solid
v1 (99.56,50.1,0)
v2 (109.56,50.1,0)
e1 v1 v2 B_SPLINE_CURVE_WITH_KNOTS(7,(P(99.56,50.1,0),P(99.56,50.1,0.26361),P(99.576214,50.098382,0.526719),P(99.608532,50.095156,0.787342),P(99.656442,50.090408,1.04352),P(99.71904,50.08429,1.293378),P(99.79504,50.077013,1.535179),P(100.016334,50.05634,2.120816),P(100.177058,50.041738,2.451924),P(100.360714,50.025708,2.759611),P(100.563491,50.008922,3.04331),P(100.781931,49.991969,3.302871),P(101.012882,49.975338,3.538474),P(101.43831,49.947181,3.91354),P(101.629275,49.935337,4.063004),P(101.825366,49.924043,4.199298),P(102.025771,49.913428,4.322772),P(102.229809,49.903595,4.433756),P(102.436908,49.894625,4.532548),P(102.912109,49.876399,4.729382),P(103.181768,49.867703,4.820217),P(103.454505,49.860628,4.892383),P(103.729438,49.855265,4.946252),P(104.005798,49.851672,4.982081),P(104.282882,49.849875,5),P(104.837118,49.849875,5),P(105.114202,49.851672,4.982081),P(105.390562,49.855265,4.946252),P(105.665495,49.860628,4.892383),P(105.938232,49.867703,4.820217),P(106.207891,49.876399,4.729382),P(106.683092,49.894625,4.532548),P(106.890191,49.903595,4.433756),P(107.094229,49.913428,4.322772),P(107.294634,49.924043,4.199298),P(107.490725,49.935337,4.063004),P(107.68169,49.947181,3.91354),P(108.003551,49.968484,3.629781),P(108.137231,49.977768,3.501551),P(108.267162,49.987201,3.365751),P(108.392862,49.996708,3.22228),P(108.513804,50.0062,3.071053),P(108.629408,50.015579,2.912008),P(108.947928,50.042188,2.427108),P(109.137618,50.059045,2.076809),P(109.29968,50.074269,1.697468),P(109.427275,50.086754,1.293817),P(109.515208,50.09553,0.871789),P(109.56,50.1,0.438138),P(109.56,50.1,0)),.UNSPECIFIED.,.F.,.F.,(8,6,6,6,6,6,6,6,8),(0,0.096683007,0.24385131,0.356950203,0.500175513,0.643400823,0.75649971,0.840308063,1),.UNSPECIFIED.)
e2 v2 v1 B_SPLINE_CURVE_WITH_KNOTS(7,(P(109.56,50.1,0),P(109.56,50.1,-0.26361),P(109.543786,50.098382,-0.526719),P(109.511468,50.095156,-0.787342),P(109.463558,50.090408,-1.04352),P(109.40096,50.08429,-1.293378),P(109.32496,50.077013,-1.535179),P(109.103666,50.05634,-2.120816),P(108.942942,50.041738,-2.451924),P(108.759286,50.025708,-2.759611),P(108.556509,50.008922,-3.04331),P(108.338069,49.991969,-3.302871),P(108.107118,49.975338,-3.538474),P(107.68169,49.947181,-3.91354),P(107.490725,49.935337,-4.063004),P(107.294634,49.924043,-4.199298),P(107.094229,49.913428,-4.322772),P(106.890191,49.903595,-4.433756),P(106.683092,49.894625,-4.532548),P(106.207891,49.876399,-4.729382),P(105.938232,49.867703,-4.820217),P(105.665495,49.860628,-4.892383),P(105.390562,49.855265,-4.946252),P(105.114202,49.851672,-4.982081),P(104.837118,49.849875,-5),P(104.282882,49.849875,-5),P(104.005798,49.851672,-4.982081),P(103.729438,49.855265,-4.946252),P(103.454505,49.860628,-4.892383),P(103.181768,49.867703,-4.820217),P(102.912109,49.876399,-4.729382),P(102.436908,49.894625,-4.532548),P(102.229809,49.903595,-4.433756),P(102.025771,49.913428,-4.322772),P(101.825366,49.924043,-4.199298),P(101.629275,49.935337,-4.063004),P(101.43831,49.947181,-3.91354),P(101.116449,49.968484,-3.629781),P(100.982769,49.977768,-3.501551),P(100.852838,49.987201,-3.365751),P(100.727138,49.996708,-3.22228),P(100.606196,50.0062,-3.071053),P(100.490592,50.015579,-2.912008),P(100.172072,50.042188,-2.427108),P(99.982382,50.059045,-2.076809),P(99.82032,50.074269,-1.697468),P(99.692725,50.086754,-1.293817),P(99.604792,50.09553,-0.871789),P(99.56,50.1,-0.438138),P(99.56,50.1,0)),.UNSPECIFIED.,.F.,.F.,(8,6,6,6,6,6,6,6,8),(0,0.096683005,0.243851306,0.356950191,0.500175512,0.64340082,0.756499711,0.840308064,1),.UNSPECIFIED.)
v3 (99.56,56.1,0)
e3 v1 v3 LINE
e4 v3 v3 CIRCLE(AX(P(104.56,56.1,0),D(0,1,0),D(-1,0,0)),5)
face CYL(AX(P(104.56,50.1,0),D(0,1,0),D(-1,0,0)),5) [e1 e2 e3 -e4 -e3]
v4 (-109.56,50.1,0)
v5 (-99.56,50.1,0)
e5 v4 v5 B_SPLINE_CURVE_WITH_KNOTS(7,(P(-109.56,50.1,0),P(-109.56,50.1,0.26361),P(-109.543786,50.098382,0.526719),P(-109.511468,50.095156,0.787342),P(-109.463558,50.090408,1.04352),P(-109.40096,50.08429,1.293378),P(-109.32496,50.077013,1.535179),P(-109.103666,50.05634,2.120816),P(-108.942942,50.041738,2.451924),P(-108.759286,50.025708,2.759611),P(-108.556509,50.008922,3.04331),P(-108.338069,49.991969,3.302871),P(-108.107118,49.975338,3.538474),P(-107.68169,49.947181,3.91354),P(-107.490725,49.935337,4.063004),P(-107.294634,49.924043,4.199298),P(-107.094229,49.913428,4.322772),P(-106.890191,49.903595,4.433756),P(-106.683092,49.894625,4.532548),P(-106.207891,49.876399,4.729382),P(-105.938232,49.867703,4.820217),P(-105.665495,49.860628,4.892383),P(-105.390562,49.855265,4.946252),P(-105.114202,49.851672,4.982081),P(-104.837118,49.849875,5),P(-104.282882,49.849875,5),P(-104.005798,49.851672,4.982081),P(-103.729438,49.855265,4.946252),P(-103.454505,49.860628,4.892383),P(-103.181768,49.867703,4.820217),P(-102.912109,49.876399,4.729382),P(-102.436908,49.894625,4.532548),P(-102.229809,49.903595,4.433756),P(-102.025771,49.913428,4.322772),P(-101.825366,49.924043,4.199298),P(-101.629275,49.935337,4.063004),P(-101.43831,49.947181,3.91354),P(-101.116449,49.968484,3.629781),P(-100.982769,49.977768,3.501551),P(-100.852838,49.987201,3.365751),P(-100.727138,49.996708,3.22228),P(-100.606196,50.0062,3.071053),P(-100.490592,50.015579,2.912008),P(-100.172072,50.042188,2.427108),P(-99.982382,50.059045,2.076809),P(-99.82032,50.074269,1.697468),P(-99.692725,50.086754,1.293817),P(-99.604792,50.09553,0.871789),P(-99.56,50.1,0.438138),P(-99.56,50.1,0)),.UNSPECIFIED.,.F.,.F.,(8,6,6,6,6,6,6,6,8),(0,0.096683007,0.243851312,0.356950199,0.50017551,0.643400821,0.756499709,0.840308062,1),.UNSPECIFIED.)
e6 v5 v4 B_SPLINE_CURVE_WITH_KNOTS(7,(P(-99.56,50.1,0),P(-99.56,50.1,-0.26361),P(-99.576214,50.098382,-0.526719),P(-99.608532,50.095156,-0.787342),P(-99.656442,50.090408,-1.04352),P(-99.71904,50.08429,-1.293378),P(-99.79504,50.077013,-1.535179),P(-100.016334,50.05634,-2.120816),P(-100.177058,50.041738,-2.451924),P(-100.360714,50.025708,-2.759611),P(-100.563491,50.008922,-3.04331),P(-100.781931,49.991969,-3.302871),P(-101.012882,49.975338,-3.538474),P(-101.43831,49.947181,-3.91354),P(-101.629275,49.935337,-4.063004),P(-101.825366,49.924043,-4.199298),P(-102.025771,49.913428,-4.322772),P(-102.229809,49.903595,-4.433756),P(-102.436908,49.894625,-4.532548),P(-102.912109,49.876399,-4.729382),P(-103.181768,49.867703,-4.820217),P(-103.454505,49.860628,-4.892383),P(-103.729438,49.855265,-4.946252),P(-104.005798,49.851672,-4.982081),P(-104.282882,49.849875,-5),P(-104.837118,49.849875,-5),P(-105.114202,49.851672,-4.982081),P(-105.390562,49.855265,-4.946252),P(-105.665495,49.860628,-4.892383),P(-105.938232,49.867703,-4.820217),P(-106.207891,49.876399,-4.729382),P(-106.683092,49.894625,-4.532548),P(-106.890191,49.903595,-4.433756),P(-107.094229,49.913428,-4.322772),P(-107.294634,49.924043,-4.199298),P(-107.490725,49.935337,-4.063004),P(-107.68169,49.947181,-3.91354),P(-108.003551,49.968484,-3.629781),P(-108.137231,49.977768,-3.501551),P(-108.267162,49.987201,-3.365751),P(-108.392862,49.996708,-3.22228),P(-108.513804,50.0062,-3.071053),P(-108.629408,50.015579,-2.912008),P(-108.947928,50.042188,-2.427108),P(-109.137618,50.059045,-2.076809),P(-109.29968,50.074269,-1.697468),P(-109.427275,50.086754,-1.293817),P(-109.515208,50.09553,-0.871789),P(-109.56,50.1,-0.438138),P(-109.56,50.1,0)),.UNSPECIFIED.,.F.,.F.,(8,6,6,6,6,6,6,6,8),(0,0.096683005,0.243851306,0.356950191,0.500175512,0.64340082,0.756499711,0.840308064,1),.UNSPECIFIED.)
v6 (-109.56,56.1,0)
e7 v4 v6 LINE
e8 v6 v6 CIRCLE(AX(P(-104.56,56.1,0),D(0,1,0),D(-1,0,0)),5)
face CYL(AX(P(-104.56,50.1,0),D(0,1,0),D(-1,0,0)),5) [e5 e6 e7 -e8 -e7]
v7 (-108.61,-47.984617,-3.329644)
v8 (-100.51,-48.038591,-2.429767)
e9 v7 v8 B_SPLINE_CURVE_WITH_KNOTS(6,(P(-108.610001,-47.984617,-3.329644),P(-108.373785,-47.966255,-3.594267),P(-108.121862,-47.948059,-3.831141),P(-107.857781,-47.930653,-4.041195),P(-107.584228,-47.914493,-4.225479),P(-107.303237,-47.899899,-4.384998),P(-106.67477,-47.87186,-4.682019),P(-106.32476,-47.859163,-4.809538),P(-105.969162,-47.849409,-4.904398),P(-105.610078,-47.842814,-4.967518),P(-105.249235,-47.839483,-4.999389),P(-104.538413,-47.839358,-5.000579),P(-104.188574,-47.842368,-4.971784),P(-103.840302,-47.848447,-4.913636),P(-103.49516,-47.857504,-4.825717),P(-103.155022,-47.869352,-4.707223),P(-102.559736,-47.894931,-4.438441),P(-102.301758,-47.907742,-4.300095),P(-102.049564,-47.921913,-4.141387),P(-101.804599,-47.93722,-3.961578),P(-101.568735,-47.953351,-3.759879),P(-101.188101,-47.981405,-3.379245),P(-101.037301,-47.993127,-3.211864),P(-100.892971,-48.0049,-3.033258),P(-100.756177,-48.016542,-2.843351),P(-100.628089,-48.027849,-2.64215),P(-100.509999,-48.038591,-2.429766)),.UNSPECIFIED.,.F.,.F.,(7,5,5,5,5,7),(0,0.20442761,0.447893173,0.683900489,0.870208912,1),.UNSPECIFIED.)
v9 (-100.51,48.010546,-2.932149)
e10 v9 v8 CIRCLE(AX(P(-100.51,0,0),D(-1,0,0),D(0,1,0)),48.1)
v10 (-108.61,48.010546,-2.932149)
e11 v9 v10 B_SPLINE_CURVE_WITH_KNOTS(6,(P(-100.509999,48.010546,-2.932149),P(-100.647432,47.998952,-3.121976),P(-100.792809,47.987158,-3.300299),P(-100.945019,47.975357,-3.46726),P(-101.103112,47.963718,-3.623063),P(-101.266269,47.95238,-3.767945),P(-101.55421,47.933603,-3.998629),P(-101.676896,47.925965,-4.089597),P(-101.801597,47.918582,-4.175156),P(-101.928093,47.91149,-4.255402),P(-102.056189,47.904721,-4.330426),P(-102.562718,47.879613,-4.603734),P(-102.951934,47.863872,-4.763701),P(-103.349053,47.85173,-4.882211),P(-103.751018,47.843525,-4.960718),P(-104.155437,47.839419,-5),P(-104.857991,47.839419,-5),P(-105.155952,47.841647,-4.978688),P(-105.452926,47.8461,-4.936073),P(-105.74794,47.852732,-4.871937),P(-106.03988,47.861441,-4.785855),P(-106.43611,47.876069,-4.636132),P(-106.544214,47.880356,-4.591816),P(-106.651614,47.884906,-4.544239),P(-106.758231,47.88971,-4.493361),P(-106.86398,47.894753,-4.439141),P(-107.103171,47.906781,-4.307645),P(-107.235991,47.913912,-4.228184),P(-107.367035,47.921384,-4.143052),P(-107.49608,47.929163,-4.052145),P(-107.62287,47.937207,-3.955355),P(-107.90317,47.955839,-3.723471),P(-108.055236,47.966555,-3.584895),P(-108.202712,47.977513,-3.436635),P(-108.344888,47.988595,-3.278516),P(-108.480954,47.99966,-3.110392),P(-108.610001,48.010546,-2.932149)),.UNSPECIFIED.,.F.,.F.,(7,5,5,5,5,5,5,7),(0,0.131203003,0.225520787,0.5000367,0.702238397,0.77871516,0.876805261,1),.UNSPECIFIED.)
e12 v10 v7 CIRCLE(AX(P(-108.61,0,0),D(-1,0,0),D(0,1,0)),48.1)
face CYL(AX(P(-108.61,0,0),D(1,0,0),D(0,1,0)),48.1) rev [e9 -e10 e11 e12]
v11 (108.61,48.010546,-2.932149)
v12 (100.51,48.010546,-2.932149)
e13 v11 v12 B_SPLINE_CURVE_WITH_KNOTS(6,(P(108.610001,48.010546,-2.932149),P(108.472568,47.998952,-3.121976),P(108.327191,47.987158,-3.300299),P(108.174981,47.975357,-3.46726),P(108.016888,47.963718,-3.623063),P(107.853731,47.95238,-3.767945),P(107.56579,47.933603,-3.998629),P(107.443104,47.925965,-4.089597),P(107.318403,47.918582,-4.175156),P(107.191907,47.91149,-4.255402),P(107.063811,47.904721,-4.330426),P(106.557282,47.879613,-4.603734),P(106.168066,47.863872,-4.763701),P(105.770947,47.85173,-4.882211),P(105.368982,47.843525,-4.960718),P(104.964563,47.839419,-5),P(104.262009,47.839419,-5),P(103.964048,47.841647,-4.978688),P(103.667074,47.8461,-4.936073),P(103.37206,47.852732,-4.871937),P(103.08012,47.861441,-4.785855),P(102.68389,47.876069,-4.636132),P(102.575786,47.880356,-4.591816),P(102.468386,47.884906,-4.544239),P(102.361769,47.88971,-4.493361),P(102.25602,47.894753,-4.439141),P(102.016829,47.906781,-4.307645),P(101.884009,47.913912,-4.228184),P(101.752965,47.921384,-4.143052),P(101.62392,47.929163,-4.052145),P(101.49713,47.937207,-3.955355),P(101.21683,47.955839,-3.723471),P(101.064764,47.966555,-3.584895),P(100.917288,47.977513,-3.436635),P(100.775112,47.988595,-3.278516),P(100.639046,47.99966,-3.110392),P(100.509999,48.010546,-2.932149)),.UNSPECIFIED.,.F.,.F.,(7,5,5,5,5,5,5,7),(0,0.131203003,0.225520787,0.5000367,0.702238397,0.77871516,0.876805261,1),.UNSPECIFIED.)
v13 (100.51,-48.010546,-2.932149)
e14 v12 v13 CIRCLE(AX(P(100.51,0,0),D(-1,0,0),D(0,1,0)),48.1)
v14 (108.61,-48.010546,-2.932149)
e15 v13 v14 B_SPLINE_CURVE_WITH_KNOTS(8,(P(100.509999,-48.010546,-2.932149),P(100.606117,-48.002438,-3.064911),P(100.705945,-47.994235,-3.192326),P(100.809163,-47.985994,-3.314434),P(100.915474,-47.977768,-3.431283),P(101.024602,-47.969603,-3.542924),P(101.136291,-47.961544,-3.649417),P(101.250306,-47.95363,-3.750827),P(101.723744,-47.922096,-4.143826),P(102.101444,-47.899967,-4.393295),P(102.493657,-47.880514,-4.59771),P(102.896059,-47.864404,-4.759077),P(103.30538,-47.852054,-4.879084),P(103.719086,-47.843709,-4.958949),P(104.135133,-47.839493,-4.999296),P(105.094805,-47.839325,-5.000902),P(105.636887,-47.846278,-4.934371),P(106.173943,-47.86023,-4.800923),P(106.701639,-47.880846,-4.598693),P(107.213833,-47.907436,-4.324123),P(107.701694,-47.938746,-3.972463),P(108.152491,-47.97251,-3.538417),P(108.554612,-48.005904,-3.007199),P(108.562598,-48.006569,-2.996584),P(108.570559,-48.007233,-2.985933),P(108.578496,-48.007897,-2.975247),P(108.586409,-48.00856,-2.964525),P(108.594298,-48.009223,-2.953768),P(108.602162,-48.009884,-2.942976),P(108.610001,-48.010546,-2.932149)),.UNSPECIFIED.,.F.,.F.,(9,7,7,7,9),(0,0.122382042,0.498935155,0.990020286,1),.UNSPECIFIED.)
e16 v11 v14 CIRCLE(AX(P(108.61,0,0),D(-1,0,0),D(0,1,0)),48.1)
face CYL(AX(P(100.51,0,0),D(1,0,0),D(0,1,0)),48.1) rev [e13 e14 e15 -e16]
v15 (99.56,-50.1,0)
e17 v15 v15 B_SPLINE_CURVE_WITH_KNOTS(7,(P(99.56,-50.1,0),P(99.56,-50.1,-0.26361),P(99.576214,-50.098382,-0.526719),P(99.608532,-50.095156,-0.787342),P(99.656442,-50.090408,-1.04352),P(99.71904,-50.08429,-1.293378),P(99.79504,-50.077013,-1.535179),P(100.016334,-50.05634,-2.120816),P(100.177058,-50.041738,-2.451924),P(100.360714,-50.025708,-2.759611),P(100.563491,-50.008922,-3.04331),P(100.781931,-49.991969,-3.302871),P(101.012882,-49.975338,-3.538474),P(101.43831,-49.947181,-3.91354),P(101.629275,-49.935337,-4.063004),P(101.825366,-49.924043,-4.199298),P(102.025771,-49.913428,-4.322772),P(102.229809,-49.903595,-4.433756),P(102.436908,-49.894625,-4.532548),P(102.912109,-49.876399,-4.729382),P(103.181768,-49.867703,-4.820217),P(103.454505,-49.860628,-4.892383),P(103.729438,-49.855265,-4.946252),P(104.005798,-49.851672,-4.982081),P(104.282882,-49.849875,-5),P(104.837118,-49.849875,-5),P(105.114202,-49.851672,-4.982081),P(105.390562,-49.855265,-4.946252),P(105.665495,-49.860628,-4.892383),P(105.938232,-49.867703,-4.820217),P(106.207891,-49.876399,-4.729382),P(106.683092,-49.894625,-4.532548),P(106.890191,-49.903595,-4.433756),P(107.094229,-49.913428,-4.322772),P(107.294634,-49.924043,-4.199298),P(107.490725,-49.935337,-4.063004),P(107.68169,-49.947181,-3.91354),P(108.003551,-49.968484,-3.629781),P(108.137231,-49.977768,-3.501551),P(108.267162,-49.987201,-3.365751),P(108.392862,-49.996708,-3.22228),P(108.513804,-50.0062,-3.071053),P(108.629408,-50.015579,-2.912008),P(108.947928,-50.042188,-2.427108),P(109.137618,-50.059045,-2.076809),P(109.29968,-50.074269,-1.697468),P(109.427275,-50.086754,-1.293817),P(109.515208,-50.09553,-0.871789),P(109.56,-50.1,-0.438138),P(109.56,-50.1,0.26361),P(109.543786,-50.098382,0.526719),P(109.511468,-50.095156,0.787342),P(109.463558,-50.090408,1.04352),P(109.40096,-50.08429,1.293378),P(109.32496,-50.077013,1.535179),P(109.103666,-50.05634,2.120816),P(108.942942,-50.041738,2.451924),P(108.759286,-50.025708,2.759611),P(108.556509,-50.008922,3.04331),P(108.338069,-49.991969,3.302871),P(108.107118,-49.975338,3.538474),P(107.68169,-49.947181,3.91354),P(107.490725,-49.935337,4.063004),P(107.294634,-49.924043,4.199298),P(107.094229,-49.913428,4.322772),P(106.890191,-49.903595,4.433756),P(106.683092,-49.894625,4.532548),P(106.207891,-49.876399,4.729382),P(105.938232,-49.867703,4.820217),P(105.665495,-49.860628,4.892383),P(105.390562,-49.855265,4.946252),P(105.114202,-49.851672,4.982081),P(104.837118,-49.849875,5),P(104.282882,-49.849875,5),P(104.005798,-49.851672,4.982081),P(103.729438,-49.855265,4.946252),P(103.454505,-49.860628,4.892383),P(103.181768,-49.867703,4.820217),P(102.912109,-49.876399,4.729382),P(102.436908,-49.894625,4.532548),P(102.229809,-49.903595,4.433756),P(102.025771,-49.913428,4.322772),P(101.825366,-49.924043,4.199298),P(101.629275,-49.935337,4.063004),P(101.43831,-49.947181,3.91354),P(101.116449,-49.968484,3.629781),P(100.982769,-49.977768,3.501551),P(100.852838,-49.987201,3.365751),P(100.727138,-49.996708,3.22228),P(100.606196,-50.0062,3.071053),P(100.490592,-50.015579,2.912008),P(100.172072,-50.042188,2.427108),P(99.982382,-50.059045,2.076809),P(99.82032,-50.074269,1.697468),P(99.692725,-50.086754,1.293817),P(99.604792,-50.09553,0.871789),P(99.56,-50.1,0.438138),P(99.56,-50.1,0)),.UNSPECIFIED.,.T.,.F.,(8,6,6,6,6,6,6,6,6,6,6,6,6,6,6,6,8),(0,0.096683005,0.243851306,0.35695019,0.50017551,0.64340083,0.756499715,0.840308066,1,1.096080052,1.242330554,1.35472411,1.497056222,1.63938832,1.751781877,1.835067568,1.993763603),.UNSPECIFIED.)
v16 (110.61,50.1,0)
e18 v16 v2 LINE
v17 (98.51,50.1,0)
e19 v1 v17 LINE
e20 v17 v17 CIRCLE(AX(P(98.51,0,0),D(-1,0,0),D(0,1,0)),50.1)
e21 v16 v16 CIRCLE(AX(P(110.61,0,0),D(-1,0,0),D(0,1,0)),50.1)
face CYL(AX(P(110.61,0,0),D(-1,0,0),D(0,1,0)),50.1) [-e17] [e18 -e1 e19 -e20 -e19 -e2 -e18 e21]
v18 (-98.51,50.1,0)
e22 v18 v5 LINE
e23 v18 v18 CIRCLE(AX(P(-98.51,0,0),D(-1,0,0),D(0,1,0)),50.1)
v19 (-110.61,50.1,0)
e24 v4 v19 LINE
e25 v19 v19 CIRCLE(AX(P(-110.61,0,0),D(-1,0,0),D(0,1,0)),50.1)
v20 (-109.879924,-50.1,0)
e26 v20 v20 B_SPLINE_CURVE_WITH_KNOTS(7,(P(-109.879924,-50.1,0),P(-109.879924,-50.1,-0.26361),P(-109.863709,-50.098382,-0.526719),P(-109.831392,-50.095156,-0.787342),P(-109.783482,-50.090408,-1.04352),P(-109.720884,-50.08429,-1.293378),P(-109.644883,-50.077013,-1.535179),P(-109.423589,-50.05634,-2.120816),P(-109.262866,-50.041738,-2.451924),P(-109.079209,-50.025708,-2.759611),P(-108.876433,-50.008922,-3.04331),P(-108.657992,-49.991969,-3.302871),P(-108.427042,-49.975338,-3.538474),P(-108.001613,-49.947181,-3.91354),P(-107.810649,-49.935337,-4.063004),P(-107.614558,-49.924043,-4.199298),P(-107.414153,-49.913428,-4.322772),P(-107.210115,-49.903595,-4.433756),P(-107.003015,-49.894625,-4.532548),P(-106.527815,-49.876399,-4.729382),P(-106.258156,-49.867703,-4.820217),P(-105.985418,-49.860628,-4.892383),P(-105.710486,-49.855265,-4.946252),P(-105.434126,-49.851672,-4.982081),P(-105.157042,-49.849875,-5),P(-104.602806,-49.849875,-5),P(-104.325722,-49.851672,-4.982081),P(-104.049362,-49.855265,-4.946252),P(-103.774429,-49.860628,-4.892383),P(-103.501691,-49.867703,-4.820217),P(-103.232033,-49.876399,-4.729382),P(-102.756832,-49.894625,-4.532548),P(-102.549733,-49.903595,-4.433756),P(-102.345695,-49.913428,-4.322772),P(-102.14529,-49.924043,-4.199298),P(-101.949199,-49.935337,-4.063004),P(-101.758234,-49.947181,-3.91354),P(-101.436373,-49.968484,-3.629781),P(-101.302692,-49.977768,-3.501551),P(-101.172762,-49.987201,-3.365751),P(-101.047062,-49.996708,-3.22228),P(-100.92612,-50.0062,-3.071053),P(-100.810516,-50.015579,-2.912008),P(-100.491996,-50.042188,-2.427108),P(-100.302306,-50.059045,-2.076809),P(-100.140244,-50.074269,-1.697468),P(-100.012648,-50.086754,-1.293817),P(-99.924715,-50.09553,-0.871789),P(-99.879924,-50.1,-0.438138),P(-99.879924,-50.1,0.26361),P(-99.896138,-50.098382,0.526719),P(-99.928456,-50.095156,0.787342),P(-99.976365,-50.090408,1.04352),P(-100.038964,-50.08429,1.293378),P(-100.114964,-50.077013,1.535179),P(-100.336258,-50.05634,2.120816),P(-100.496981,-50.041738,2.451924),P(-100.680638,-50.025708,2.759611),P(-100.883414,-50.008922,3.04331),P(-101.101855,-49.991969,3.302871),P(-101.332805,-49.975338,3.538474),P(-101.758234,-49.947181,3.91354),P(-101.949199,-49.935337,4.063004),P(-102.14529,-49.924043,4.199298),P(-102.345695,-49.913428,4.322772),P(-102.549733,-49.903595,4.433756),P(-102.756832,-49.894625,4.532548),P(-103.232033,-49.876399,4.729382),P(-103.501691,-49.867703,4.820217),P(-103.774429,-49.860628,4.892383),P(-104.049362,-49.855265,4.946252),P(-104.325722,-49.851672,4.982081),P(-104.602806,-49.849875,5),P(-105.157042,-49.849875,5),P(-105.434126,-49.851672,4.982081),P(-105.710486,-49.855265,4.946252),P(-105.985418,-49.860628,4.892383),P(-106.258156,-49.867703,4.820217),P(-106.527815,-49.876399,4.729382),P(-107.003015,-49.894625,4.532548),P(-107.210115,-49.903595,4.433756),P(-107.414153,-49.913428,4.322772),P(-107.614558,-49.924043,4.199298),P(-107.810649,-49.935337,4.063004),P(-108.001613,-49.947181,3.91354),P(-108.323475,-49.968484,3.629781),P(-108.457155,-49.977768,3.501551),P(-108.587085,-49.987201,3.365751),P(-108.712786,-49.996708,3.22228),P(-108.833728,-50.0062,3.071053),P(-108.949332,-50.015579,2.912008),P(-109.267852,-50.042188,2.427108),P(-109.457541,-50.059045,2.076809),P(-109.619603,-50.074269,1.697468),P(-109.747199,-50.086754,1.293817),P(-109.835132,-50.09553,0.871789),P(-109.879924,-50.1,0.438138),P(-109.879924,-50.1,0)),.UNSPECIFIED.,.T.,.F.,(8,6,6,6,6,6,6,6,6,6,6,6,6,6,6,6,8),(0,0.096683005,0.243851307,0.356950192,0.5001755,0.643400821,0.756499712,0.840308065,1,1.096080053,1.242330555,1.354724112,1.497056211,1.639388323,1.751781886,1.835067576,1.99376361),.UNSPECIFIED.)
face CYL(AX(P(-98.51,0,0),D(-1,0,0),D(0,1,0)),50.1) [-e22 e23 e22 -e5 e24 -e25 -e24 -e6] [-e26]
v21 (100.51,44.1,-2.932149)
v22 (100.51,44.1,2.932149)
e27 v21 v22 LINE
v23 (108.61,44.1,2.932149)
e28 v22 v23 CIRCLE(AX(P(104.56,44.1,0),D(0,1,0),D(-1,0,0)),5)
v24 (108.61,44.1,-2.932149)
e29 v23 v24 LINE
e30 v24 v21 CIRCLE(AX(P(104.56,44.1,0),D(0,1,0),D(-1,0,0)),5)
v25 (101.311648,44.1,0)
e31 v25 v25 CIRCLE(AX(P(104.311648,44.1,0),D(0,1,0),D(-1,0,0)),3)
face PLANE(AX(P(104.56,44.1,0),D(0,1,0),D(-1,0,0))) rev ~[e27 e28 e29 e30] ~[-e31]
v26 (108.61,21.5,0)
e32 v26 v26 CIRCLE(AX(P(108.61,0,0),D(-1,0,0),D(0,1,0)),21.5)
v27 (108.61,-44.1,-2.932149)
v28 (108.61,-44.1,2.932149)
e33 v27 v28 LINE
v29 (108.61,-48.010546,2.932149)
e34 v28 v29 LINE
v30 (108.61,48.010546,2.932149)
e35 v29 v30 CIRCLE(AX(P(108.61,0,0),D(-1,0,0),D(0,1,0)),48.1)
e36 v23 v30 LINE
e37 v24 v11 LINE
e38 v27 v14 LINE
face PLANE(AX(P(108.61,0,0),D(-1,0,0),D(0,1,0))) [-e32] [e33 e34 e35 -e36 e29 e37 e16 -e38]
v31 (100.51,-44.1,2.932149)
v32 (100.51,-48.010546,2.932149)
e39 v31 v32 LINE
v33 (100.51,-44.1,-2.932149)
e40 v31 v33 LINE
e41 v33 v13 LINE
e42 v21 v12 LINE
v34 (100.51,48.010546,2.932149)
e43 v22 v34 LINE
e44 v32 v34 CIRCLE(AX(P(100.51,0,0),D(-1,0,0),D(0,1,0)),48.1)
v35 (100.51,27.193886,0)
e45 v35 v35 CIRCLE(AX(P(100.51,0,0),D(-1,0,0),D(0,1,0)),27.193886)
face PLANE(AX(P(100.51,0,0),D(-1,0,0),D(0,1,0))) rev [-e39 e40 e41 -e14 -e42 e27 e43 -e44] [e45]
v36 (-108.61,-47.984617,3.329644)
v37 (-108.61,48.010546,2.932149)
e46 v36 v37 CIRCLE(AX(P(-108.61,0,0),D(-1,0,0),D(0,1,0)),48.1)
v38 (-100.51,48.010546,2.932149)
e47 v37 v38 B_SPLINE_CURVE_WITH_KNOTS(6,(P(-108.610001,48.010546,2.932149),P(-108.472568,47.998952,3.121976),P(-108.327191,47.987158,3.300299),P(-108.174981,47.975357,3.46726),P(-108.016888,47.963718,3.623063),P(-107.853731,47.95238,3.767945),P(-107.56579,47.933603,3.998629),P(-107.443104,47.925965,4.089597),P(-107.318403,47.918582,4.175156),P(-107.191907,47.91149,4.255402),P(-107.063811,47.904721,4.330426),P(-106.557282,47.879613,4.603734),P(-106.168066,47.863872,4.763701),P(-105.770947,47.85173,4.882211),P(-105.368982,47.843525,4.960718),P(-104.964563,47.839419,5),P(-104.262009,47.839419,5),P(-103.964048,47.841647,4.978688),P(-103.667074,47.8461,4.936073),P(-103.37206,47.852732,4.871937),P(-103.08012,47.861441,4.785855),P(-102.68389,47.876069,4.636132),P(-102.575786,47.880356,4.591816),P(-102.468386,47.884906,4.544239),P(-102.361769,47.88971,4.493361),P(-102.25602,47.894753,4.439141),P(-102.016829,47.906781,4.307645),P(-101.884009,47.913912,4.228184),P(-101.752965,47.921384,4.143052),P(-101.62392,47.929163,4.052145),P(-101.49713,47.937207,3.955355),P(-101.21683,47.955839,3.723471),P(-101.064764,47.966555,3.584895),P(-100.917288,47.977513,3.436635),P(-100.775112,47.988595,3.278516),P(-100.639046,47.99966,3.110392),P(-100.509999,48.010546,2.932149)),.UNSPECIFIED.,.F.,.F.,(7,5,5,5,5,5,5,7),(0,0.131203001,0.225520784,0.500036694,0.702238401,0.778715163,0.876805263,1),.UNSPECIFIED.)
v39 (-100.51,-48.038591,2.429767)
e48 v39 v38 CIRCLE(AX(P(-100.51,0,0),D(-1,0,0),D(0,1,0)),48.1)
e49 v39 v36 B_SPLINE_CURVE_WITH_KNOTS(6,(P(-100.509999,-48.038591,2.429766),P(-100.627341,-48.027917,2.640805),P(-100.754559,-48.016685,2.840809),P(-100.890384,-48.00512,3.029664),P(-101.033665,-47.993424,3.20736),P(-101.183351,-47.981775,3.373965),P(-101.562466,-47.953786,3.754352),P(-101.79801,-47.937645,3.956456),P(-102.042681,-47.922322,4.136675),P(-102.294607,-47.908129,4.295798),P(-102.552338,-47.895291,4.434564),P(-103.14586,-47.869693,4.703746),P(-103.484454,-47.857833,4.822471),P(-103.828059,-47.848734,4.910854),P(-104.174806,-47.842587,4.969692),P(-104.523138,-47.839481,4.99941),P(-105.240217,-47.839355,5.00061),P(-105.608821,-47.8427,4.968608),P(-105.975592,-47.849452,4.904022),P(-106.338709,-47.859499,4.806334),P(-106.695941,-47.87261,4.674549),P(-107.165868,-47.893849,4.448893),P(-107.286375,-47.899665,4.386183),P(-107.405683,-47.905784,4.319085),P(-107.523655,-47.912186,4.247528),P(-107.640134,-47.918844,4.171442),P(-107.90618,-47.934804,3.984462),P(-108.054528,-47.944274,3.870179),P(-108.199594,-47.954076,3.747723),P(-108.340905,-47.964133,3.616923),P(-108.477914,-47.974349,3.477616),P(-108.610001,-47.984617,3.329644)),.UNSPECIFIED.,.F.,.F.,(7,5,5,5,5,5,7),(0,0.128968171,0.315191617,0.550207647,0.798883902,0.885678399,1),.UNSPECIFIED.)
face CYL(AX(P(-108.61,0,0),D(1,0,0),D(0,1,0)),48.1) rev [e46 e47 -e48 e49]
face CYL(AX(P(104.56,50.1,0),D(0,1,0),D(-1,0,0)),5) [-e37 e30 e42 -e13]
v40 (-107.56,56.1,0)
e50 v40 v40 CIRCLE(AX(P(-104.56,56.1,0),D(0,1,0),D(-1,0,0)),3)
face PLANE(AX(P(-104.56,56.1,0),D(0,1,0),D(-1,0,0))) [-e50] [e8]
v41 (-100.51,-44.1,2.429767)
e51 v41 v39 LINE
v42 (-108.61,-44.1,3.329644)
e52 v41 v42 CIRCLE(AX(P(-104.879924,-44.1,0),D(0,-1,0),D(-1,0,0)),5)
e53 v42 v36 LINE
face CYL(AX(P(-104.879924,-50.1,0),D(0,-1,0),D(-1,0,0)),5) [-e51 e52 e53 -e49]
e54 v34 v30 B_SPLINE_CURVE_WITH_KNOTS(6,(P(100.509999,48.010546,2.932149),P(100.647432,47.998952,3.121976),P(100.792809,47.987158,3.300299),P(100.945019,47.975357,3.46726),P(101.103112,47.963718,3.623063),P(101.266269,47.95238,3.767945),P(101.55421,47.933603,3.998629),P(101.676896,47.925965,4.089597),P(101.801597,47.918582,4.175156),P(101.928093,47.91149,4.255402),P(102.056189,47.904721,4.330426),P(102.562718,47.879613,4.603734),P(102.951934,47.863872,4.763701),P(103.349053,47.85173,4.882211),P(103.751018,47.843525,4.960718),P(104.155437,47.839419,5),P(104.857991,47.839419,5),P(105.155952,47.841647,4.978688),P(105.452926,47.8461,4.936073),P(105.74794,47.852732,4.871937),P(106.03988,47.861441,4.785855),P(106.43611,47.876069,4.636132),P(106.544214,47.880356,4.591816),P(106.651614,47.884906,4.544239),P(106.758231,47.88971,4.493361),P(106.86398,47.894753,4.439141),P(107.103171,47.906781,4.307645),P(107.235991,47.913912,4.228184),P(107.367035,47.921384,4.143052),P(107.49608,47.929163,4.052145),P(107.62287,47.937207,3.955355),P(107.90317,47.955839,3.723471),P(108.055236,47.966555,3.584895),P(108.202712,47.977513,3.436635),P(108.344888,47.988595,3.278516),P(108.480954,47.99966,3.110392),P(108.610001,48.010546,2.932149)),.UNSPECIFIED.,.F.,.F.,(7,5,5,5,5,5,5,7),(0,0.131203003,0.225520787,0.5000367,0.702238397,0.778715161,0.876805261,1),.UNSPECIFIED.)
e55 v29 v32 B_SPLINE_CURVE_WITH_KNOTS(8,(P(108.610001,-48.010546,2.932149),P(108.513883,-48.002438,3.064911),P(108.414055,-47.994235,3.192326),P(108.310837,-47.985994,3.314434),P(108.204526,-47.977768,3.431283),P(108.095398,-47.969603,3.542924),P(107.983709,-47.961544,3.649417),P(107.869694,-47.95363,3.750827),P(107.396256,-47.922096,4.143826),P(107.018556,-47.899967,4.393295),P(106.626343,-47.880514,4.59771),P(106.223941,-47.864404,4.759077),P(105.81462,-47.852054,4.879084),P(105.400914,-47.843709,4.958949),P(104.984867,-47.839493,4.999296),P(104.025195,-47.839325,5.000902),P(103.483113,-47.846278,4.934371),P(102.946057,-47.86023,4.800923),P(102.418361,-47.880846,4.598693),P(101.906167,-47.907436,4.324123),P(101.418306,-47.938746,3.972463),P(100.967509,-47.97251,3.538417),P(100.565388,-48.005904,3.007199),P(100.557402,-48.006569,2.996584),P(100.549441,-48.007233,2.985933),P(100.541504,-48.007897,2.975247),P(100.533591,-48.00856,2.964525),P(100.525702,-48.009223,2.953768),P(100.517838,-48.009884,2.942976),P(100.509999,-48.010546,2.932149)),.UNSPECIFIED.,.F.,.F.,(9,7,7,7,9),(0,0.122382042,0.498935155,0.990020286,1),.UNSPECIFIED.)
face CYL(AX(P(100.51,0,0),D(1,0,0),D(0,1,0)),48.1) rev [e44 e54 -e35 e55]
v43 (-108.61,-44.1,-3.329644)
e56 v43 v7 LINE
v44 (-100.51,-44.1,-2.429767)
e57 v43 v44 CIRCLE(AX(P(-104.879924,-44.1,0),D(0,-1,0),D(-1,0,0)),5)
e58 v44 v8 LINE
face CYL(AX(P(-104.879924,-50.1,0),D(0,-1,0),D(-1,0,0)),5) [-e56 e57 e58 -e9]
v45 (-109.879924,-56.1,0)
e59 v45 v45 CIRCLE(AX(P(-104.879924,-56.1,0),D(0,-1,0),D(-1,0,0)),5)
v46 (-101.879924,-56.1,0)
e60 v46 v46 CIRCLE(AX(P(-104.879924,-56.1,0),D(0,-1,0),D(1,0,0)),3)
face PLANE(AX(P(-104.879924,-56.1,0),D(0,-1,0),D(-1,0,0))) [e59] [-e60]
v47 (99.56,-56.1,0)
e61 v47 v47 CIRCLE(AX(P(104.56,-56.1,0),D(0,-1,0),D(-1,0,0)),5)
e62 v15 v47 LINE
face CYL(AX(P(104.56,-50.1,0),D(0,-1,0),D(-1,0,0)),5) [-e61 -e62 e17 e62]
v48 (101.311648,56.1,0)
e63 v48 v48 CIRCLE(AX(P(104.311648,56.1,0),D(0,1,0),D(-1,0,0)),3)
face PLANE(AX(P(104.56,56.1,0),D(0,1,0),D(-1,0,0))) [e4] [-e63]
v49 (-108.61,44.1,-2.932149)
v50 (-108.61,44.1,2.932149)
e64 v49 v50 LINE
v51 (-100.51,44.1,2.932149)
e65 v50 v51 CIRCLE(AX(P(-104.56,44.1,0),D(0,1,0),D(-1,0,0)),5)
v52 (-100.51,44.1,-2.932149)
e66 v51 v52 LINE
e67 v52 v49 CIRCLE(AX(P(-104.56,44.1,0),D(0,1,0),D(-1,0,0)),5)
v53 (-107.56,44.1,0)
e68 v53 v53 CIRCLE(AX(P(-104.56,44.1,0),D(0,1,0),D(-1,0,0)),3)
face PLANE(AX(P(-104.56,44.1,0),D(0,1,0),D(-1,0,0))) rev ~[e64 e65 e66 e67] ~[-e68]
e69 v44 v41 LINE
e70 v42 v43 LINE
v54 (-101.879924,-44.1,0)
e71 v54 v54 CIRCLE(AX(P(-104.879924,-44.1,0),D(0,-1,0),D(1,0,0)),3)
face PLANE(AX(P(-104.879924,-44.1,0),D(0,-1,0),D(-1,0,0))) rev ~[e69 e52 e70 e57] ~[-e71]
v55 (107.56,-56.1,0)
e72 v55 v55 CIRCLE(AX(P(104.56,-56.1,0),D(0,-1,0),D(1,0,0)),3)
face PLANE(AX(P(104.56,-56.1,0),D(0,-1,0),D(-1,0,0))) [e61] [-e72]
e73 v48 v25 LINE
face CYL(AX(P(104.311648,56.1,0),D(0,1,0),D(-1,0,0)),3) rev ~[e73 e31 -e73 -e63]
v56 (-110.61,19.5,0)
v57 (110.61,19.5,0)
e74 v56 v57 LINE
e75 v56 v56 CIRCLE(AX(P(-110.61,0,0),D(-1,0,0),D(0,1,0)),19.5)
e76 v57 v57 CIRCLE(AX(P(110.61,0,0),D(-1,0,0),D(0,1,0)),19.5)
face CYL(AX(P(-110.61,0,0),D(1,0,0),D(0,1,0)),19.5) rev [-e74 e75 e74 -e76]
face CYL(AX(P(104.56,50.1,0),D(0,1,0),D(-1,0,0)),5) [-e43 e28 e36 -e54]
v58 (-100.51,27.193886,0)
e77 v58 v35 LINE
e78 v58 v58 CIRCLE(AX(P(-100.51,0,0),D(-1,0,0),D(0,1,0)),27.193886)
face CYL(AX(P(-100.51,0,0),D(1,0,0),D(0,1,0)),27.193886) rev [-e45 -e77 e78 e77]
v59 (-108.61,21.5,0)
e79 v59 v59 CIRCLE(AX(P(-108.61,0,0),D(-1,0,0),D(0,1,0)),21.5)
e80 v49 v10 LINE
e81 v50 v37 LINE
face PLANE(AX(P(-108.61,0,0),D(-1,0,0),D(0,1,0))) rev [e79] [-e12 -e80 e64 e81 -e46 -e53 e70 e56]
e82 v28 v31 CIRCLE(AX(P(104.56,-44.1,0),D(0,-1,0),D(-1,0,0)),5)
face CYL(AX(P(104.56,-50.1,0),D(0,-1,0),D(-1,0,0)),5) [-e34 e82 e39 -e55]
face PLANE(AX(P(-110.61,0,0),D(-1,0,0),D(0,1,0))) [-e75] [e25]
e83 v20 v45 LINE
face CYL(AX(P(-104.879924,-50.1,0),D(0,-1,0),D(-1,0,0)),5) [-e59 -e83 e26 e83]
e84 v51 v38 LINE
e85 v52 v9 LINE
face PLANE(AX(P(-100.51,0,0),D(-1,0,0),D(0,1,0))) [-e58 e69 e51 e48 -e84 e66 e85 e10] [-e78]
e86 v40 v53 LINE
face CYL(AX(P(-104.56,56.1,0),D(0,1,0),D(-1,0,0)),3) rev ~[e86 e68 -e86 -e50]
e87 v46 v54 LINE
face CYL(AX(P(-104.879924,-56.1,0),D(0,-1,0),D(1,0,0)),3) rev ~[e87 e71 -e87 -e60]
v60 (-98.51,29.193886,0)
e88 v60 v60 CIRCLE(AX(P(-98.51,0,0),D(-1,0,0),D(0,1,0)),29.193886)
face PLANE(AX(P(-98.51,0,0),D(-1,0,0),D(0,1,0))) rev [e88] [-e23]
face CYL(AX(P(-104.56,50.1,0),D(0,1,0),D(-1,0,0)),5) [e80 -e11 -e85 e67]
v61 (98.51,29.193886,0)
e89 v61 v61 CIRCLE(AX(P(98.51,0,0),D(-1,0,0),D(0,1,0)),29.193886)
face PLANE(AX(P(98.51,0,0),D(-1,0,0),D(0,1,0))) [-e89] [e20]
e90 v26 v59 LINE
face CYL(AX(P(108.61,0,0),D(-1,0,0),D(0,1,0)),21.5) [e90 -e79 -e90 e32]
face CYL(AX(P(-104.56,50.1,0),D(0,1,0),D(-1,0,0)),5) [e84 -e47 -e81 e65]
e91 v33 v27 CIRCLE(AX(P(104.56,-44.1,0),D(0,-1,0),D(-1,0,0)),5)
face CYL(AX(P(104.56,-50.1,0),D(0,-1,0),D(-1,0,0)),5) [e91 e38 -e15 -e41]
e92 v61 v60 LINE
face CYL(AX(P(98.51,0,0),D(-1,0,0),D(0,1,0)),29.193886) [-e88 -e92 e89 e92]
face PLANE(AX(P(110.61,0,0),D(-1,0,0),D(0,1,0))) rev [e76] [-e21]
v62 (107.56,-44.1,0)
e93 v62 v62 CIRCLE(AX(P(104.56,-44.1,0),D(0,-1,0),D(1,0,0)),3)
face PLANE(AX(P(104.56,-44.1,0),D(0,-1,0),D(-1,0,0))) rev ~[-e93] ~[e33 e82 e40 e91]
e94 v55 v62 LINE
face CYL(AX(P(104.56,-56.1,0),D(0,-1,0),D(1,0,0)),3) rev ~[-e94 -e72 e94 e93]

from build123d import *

# Parameters (mm, degrees)
CROQUIS3_R              = 5
SALIENTE_EXTRUIR1_DEPTH = 6
CROQUIS4_R              = 3
CORTAR_EXTRUIR1_DEPTH   = 12
CROQUIS5_R              = 5
SALIENTE_EXTRUIR2_DEPTH = 6
CROQUIS6_R              = 3
CORTAR_EXTRUIR2_DEPTH   = 12
CROQUIS8_R              = 5
SALIENTE_EXTRUIR4_DEPTH = 6
CROQUIS9_R              = 3
CORTAR_EXTRUIR4_DEPTH   = 12
CROQUIS10_R             = 5
SALIENTE_EXTRUIR5_DEPTH = 6
CROQUIS11_R             = 3
CORTAR_EXTRUIR5_DEPTH   = 12


with BuildPart() as part:
    # Camisa → Revolución3 (revolve)
    with BuildSketch(Plane.XY):
        Polygon((-110.61, 19.5), (110.61, 19.5), (110.61, 50.1), (98.51, 50.1), (98.51, 29.193885615), (-98.51, 29.193885615), (-98.51, 50.1), (-110.61, 50.1), align=None)
        Polygon((100.51, 48.1), (108.61, 48.1), (108.61, 21.5), (-108.61, 21.5), (-108.61, 48.1), (-100.51, 48.1), (-100.51, 27.193885615), (100.51, 27.193885615), align=None, mode=Mode.SUBTRACT)
    revolve(axis=Axis((125, 0, 0), (-1, 0, 0)))

    # Croquis3 → Saliente-Extruir1 (add, symmetric)
    with BuildSketch(Plane(origin=(0, 50.1, 0), x_dir=(1, 0, 0), z_dir=(0, 1, 0))):
        with Locations(Location((-104.56, 0, 0), (0, 0, 180))):
            Circle(CROQUIS3_R)
    extrude(amount=SALIENTE_EXTRUIR1_DEPTH, both=True)

    # Croquis4 → Cortar-Extruir1 (cut)
    with BuildSketch(Plane(origin=(0, 56.1, 0), x_dir=(1, 0, 0), z_dir=(0, 1, 0))):
        with Locations(Location((-104.56, 0, 0), (0, 0, 180))):
            Circle(CROQUIS4_R)
    extrude(amount=-CORTAR_EXTRUIR1_DEPTH, mode=Mode.SUBTRACT)

    # Croquis5 → Saliente-Extruir2 (add, symmetric)
    with BuildSketch(Plane(origin=(0, 50.1, 0), x_dir=(1, 0, 0), z_dir=(0, 1, 0))):
        with Locations(Location((104.56, 0, 0), (0, 0, 180))):
            Circle(CROQUIS5_R)
    extrude(amount=SALIENTE_EXTRUIR2_DEPTH, both=True)

    # Croquis6 → Cortar-Extruir2 (cut)
    with BuildSketch(Plane(origin=(0, 56.1, 0), x_dir=(1, 0, 0), z_dir=(0, 1, 0))):
        with Locations(Location((104.311648401, 0, 0), (0, 0, 180))):
            Circle(CROQUIS6_R)
    extrude(amount=-CORTAR_EXTRUIR2_DEPTH, mode=Mode.SUBTRACT)

    # Croquis8 → Saliente-Extruir4 (add, symmetric)
    with BuildSketch(Plane(origin=(0, -50.1, 0), x_dir=(-1, 0, 0), z_dir=(0, -1, 0))):
        with Locations((104.879923699, 0)):
            Circle(CROQUIS8_R)
    extrude(amount=SALIENTE_EXTRUIR4_DEPTH, both=True)

    # Croquis9 → Cortar-Extruir4 (cut)
    with BuildSketch(Plane.XZ.offset(56.1)):
        with Locations((-104.879923699, 0)):
            Circle(CROQUIS9_R)
    extrude(amount=-CORTAR_EXTRUIR4_DEPTH, mode=Mode.SUBTRACT)

    # Croquis10 → Saliente-Extruir5 (add, symmetric)
    with BuildSketch(Plane(origin=(0, -50.1, 0), x_dir=(-1, 0, 0), z_dir=(0, -1, 0))):
        with Locations((-104.56, 0)):
            Circle(CROQUIS10_R)
    extrude(amount=SALIENTE_EXTRUIR5_DEPTH, both=True)

    # Croquis11 → Cortar-Extruir5 (cut)
    with BuildSketch(Plane.XZ.offset(56.1)):
        with Locations((104.56, 0)):
            Circle(CROQUIS11_R)
    extrude(amount=-CORTAR_EXTRUIR5_DEPTH, mode=Mode.SUBTRACT)


solid = part.part
